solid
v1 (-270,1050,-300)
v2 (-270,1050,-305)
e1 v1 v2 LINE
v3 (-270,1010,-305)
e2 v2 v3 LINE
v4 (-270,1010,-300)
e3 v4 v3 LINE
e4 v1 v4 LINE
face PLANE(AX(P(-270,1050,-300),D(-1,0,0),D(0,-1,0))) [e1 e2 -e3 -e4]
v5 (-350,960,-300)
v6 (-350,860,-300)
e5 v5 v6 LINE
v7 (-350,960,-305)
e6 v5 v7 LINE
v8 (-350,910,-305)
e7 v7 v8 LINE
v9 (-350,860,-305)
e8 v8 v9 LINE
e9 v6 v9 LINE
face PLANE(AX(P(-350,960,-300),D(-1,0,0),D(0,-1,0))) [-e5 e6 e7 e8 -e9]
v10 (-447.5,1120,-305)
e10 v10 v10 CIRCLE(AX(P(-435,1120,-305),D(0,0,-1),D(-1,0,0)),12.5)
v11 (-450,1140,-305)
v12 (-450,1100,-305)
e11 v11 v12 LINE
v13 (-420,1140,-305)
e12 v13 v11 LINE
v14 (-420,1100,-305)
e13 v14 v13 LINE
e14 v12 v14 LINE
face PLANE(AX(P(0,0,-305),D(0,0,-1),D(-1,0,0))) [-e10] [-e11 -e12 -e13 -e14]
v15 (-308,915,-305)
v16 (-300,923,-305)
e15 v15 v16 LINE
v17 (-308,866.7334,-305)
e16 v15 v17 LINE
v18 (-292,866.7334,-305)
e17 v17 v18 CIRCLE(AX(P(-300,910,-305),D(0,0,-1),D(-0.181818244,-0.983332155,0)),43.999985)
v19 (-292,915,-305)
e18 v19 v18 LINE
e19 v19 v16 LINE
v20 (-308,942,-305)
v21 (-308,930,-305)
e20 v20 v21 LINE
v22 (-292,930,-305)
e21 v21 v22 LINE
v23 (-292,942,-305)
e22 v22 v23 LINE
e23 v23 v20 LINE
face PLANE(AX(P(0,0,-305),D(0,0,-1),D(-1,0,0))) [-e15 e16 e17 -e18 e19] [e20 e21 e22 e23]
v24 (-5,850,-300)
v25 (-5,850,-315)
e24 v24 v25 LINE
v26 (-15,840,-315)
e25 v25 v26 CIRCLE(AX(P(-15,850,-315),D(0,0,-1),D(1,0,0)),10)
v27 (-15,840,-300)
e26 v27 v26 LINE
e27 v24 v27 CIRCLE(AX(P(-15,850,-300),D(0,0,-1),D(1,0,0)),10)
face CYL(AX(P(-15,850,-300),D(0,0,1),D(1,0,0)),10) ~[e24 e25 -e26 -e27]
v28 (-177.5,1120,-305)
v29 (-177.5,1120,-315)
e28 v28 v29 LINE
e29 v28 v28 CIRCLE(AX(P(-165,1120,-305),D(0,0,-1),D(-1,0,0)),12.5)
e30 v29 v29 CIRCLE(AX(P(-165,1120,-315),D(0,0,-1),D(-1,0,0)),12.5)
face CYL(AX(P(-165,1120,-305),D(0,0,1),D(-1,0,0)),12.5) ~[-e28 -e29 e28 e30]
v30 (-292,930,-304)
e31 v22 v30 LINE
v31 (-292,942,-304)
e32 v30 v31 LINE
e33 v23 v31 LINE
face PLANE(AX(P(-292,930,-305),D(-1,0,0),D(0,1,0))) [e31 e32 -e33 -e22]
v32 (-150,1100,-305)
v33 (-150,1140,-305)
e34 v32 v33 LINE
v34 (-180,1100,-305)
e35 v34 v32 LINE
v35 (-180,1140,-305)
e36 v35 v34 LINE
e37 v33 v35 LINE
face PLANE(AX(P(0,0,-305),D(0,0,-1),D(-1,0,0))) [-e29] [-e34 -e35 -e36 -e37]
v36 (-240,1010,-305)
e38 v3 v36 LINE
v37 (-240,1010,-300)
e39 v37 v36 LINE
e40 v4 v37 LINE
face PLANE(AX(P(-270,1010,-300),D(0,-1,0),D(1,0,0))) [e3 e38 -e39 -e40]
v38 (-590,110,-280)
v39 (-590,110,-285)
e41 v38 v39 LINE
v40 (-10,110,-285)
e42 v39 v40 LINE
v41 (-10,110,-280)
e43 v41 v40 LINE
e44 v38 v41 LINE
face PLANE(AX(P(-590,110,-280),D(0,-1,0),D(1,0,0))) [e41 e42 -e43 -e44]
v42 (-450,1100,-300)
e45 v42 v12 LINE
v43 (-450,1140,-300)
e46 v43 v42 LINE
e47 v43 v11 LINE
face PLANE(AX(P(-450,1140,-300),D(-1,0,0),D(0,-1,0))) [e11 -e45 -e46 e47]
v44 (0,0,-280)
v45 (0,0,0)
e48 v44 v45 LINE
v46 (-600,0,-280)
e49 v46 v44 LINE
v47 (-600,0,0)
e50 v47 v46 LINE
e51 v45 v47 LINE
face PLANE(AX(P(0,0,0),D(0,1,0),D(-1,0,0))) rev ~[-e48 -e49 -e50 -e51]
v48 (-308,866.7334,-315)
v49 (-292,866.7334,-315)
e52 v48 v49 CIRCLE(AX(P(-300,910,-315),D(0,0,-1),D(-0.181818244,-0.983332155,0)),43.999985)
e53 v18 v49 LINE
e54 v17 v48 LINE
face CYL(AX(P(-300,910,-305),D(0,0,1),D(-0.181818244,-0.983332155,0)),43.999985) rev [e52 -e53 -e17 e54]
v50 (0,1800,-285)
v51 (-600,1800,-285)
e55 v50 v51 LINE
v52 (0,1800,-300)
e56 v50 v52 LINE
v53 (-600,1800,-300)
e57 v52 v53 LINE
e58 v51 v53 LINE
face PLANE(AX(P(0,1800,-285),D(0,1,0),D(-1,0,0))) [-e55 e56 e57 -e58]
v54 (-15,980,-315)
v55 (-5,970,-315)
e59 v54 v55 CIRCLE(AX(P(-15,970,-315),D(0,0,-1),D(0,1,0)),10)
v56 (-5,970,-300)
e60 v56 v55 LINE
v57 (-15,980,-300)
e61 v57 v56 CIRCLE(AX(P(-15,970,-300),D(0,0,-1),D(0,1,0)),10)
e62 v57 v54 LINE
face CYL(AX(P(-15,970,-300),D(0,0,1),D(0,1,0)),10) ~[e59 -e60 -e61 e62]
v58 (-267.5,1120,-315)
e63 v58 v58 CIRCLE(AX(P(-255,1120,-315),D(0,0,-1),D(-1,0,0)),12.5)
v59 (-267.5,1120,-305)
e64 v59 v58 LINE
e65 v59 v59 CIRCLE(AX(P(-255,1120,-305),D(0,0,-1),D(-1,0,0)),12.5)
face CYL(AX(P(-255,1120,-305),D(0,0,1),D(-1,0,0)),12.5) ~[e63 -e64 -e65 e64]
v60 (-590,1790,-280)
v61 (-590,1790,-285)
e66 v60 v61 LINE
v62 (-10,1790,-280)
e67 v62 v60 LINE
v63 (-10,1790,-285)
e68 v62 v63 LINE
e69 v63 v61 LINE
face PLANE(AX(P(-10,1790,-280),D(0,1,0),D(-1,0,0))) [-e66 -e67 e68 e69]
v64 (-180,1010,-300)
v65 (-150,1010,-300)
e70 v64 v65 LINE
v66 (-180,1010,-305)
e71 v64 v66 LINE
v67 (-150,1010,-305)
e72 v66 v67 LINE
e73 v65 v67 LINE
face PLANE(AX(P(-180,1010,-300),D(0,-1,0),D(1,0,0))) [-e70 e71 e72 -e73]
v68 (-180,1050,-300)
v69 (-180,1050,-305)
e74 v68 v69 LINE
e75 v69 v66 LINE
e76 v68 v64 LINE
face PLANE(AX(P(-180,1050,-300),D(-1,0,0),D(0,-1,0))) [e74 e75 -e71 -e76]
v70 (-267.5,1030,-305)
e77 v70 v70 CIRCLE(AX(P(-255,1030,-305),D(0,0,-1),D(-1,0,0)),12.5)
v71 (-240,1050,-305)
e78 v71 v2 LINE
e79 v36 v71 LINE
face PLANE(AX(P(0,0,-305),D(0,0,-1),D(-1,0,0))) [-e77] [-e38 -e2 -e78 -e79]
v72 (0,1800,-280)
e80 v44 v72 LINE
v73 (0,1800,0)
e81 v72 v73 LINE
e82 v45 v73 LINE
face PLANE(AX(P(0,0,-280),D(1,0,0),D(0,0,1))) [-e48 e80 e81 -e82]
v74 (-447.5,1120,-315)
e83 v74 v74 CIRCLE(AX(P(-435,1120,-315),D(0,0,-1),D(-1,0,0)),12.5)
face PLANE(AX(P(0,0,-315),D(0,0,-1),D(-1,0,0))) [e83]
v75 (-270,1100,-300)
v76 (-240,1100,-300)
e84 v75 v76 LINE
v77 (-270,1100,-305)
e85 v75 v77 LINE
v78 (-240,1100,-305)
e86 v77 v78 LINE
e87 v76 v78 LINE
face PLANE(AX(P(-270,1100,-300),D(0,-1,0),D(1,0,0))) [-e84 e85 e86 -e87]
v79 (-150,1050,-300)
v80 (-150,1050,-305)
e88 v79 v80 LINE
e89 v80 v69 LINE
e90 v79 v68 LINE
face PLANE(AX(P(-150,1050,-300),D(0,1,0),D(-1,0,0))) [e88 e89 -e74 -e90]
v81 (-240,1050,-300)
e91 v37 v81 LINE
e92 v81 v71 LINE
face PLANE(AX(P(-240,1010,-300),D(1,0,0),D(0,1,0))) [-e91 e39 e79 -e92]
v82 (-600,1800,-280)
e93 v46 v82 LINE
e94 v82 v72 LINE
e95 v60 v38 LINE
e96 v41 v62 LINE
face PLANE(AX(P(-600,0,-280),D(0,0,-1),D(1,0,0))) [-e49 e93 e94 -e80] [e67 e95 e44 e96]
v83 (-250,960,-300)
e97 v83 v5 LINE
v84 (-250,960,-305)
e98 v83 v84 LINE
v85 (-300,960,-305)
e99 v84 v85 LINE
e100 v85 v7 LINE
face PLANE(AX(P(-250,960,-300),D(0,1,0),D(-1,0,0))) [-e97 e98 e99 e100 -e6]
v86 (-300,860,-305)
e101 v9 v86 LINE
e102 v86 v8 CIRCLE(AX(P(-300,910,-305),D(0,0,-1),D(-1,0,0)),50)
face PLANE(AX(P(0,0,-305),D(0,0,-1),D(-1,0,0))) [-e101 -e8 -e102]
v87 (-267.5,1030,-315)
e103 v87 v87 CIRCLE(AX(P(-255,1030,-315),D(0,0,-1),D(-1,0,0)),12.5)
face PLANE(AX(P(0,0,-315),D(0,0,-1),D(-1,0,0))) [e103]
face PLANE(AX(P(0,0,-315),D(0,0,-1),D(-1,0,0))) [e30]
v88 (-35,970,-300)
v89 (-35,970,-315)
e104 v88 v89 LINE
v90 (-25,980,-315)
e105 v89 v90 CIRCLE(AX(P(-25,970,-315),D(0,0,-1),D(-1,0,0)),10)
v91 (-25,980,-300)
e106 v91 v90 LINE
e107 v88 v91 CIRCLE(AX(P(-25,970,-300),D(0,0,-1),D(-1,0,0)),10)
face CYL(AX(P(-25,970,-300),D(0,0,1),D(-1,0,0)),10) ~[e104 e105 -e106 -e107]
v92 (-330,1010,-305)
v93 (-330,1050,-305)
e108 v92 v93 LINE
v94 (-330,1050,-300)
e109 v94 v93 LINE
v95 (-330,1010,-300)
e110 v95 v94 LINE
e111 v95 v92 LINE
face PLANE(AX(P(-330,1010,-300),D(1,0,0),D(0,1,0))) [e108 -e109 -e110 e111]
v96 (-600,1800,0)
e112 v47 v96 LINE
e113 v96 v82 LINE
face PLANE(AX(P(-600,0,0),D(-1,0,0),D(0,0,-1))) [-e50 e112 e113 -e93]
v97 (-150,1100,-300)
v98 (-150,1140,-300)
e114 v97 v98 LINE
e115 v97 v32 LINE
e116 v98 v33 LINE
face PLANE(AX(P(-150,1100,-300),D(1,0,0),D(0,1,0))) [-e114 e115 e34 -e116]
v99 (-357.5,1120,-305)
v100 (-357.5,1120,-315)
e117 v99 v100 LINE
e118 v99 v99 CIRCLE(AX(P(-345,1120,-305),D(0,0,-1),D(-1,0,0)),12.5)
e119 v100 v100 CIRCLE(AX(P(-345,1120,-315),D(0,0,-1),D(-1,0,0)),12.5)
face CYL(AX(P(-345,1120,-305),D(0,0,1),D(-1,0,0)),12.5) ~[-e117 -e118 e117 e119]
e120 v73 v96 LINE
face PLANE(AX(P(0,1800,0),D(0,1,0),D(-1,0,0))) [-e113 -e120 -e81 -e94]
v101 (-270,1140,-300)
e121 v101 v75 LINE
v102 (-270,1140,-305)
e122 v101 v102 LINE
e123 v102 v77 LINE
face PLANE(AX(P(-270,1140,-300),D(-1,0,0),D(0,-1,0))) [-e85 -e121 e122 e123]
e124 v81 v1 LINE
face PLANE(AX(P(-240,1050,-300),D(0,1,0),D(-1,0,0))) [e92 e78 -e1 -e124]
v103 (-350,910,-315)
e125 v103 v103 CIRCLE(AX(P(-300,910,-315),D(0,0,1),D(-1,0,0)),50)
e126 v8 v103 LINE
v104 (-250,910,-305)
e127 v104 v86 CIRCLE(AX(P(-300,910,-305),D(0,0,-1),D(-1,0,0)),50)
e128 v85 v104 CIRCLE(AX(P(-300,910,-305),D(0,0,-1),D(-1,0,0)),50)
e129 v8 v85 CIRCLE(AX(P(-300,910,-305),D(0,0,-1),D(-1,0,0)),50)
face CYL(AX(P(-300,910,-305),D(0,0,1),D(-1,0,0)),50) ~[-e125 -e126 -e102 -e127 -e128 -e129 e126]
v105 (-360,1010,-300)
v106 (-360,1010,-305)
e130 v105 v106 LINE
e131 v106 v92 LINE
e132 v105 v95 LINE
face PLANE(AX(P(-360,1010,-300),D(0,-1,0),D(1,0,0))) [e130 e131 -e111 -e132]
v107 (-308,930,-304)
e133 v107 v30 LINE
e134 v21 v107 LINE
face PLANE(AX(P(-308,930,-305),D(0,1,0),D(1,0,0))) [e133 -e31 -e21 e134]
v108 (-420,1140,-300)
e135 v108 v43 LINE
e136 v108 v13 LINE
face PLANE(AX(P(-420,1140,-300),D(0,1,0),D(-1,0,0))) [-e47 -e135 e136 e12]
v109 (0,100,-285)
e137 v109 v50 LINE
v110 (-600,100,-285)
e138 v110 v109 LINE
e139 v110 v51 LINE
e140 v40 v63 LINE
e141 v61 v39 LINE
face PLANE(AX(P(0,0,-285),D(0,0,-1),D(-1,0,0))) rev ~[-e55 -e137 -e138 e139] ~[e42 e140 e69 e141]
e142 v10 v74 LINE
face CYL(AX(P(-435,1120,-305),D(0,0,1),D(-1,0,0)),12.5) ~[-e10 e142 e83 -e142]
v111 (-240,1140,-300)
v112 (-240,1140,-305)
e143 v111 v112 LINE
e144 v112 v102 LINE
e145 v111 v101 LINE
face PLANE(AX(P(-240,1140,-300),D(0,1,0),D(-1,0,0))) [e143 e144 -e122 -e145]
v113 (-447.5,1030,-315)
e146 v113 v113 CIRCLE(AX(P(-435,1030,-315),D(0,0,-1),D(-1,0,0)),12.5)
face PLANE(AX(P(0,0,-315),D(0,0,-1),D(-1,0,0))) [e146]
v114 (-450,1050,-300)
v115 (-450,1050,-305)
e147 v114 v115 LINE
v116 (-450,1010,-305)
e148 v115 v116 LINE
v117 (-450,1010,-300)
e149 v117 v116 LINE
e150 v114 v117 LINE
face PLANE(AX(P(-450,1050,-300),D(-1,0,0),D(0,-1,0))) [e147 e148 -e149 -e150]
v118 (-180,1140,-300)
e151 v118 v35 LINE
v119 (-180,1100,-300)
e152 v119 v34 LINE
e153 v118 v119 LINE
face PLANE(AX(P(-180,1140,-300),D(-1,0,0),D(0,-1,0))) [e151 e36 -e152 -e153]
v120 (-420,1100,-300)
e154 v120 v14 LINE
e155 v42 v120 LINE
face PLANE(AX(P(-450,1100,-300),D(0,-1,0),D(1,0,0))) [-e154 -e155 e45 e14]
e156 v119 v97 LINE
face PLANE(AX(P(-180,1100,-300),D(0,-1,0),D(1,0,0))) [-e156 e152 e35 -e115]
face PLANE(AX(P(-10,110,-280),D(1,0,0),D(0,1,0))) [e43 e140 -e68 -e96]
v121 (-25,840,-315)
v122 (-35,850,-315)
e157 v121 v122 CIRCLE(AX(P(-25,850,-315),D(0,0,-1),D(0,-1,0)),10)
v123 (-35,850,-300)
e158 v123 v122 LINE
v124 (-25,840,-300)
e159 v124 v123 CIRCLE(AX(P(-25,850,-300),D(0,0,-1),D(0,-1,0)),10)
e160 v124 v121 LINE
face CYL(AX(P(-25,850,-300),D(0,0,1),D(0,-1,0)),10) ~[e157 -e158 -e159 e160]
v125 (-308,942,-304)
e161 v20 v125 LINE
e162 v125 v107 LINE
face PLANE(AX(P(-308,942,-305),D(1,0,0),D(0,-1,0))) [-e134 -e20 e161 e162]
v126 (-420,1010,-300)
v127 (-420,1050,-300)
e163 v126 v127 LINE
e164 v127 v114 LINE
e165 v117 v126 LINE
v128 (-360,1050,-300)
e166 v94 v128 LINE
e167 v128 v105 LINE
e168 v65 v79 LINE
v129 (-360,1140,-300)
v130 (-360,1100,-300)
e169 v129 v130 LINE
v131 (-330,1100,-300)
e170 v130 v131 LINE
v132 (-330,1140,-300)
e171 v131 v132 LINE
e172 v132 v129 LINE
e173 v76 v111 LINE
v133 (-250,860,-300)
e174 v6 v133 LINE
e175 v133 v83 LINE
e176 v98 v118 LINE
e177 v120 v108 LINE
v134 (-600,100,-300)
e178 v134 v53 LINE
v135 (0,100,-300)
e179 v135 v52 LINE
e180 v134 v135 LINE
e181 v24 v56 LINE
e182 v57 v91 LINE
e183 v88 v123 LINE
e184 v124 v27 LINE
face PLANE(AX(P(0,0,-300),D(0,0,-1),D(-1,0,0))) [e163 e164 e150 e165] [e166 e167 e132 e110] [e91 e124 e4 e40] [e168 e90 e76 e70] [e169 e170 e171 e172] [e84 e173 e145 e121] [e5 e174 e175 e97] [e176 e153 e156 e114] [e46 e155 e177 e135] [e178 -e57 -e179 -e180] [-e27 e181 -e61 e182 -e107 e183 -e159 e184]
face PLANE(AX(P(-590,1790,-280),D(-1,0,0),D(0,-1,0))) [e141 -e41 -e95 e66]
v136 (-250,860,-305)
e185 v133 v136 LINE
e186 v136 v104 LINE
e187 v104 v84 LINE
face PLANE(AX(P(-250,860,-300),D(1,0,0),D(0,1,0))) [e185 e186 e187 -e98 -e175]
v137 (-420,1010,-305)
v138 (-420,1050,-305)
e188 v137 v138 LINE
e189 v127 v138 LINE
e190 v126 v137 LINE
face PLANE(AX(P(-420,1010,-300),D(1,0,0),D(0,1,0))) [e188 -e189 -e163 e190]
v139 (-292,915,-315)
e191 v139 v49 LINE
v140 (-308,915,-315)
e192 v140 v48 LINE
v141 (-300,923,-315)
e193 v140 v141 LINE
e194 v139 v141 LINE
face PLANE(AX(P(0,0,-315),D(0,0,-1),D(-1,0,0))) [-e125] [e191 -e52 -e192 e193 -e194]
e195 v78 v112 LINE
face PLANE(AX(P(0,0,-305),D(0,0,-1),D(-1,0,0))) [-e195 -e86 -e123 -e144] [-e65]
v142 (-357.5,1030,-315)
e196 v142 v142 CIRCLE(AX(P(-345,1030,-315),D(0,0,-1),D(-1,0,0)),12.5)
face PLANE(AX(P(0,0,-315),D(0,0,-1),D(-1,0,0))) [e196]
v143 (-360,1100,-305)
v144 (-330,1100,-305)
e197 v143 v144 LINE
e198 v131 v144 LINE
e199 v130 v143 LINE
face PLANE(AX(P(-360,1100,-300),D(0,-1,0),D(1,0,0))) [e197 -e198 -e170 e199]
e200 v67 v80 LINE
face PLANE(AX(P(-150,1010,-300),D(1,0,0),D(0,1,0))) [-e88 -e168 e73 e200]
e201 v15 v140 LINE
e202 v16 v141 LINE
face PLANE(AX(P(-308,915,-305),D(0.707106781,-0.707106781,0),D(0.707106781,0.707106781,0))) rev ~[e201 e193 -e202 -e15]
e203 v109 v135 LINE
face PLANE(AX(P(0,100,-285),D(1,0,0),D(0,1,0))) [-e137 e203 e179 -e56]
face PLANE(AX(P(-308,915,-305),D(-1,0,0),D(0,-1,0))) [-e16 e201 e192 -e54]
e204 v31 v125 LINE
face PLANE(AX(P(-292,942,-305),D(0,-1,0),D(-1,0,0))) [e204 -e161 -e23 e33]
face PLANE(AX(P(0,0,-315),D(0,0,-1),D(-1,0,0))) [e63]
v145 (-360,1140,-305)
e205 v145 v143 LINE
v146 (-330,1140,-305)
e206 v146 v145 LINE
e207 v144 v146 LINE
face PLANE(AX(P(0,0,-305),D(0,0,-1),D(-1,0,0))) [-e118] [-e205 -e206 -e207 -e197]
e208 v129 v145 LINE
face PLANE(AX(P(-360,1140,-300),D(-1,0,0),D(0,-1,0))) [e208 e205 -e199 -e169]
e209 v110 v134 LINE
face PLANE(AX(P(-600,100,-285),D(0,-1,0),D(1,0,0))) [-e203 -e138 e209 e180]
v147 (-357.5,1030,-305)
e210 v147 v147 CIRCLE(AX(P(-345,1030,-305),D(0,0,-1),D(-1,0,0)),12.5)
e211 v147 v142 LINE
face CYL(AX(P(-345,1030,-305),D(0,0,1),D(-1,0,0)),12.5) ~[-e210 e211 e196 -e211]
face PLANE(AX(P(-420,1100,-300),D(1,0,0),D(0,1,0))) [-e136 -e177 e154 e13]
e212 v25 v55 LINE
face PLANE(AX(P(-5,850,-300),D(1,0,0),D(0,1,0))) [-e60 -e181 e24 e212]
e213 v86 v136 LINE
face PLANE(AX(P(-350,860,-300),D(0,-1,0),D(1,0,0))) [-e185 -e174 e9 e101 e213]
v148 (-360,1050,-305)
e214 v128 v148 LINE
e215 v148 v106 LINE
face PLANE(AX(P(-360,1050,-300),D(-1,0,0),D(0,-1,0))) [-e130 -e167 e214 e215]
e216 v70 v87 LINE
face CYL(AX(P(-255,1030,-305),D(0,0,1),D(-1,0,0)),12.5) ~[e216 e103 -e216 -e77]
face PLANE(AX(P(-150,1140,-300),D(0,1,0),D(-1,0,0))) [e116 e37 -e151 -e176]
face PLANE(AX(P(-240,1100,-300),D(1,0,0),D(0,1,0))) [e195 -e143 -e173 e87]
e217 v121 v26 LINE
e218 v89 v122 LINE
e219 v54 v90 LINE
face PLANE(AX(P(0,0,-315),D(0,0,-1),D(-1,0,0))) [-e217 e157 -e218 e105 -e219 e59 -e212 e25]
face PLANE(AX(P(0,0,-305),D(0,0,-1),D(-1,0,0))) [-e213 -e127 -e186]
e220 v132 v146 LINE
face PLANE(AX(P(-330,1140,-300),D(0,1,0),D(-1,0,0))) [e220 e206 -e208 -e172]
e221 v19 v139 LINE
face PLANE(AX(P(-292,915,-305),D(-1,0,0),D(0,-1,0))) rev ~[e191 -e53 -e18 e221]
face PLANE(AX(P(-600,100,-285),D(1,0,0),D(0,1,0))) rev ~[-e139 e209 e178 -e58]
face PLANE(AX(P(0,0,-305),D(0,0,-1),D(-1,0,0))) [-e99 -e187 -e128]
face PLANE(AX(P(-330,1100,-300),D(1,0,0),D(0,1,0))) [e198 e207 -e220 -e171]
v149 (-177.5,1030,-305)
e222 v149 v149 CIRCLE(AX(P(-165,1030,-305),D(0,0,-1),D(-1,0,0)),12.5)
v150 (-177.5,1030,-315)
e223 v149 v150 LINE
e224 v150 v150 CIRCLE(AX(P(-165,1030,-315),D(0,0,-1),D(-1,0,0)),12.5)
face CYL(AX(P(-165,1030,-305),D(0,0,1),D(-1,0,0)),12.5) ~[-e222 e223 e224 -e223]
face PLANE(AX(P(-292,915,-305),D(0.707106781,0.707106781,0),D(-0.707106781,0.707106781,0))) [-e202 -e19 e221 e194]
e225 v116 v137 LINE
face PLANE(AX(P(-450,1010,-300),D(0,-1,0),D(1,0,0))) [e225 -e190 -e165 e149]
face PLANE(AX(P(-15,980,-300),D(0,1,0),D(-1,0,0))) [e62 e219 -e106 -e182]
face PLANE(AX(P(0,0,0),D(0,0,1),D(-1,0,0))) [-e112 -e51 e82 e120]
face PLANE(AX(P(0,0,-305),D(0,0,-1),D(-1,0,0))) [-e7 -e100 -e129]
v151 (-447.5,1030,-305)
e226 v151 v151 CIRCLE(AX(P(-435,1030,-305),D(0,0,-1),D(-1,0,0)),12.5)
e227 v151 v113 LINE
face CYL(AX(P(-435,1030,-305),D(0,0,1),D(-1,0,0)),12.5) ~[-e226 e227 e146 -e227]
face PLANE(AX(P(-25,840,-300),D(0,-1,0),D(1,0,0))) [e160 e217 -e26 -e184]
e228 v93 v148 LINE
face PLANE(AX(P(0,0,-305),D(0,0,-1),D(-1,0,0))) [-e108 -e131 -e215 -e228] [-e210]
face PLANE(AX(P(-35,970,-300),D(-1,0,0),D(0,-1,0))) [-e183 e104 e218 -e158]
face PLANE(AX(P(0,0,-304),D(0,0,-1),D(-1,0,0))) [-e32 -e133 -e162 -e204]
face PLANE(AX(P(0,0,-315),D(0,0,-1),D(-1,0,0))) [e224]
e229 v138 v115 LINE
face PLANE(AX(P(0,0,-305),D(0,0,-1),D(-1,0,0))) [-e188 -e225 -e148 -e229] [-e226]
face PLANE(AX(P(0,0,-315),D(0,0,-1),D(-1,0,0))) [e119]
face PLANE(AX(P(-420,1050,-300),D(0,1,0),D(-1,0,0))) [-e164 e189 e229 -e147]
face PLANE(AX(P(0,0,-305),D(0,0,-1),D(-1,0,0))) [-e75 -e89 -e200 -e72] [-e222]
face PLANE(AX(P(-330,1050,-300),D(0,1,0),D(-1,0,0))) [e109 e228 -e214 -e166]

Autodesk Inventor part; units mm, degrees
ref_plane "YZ Plane" through (0, 0, 0) normal (1, 0, 0) x (0, 1, 0)
ref_plane "XZ Plane" through (0, 0, 0) normal (0, 1, 0) x (-1, 0, 0)
ref_plane "XY Plane" through (0, 0, 0) normal (0, 0, 1) x (1, 0, 0)
sketch "Skizze1" plane through (0, 0, 0) normal (0, 1, 0) x (-1, 0, 0)
  line L0 (0, 0) -> (600, 0)
  line L1 (600, 0) -> (600, -280)
  line L2 (600, -280) -> (0, -280)
  line L3 (0, -280) -> (0, 0)
  dimension "d0" = 600
  dimension "d1" = 280
extrude "Extrusion1" add sketch "Skizze1" along normal blind 1800
sketch "Skizze2" plane through (0, 0, -280) normal (0, 0, -1) x (-1, 0, 0)
  line L0 (10, 1790) -> (590, 1790)
  line L1 (590, 1790) -> (590, 110)
  line L2 (590, 110) -> (10, 110)
  line L3 (10, 110) -> (10, 1790)
  line L4 (0, 0) -> (0, 1800) projected
  line L5 (600, 0) -> (600, 1800) projected
  line L6 (0, 1800) -> (600, 1800) projected
  line L7 (0, 0) -> (600, 0) projected
  dimension "d4" = 10
  dimension "d5" = 10
  dimension "d6" = 10
  dimension "d7" = 110
extrude "Extrusion2" add sketch "Skizze2" along normal blind 5 contours L0 L1 L2 L3
sketch "Skizze3" plane through (0, 0, -285) normal (0, 0, -1) x (-1, 0, 0)
  line L0 (0, 0) -> (0, 1800) projected
  line L1 (600, 0) -> (600, 1800) projected
  line L2 (0, 1800) -> (600, 1800)
  line L3 (600, 1800) -> (600, 100)
  line L4 (600, 100) -> (0, 100)
  line L5 (0, 100) -> (0, 1800)
  line L6 (10, 110) -> (590, 110) projected
  point P0 (0, 100)
  dimension "d10" = 10
extrude "Extrusion3" add sketch "Skizze3" along normal blind 15
sketch "Skizze4" plane through (0, 0, -300) normal (0, 0, -1) x (-1, 0, 0)
  line L0 (15, 980) -> (25, 980)
  line L1 (35, 970) -> (35, 850)
  line L2 (25, 840) -> (15, 840)
  line L3 (5, 850) -> (5, 970)
  line L4 (0, 0) -> (600, 0) projected
  line L5 (0, 1800) -> (0, 100) projected
  arc A0 (5, 850) -> (15, 840) centre (15, 850) ccw
  arc A1 (25, 840) -> (35, 850) centre (25, 850) ccw
  arc A2 (35, 970) -> (25, 980) centre (25, 970) ccw
  arc A3 (15, 980) -> (5, 970) centre (15, 970) ccw
  dimension "d13" = 840
  dimension "d14" = 140
  dimension "d15" = 30
  dimension "d16" = 5
  dimension "d17" = 10
extrude "Extrusion4" add sketch "Skizze4" along normal blind 15
sketch "Skizze5" plane through (0, 0, -300) normal (0, 0, -1) x (-1, 0, 0)
  line L0 (150, 1140) -> (180, 1140)
  line L1 (180, 1140) -> (180, 1100)
  line L2 (180, 1100) -> (150, 1100)
  line L3 (150, 1100) -> (150, 1140)
  line L4 (0, 100) -> (600, 100) projected
  line L5 (0, 1800) -> (0, 100) projected
  line L6 (240, 1140) -> (270, 1140)
  line L7 (270, 1140) -> (270, 1100)
  line L8 (270, 1100) -> (240, 1100)
  line L9 (240, 1100) -> (240, 1140)
  line L10 (330, 1140) -> (360, 1140)
  line L11 (360, 1140) -> (360, 1100)
  line L12 (360, 1100) -> (330, 1100)
  line L13 (330, 1100) -> (330, 1140)
  line L14 (420, 1140) -> (450, 1140)
  line L15 (450, 1140) -> (450, 1100)
  line L16 (450, 1100) -> (420, 1100)
  line L17 (420, 1100) -> (420, 1140)
  line L18 (150, 1050) -> (180, 1050)
  line L19 (180, 1050) -> (180, 1010)
  line L20 (180, 1010) -> (150, 1010)
  line L21 (150, 1010) -> (150, 1050)
  line L22 (240, 1050) -> (270, 1050)
  line L23 (270, 1050) -> (270, 1010)
  line L24 (270, 1010) -> (240, 1010)
  line L25 (240, 1010) -> (240, 1050)
  line L26 (330, 1050) -> (360, 1050)
  line L27 (360, 1050) -> (360, 1010)
  line L28 (360, 1010) -> (330, 1010)
  line L29 (330, 1010) -> (330, 1050)
  line L30 (420, 1050) -> (450, 1050)
  line L31 (450, 1050) -> (450, 1010)
  line L32 (450, 1010) -> (420, 1010)
  line L33 (420, 1010) -> (420, 1050)
  line L34 (250, 960) -> (350, 960)
  line L35 (350, 960) -> (350, 860)
  line L36 (350, 860) -> (250, 860)
  line L37 (250, 860) -> (250, 960)
  point P0 (0, 0)
  dimension "d20" = 40
  dimension "d21" = 30
  dimension "d22" = 1000
  dimension "d23" = 150
  dimension "d33" = 90
  dimension "d36" = 90
  dimension "d39" = 100
  dimension "d40" = 100
  dimension "d41" = 250
  dimension "d42" = 50
extrude "Extrusion5" add sketch "Skizze5" along normal blind 5
sketch "Skizze6" plane through (0, 0, -305) normal (0, 0, -1) x (-1, 0, 0)
  circle A0 centre (165, 1120) radius 12.5
  line L0 (180, 1140) -> (150, 1140) projected
  line L1 (180, 1100) -> (180, 1140) projected
  circle A1 centre (255, 1120) radius 12.5
  circle A2 centre (345, 1120) radius 12.5
  circle A3 centre (435, 1120) radius 12.5
  circle A4 centre (165, 1030) radius 12.5
  circle A5 centre (255, 1030) radius 12.5
  circle A6 centre (345, 1030) radius 12.5
  circle A7 centre (435, 1030) radius 12.5
  circle A8 centre (300, 910) radius 50
  line L2 (350, 860) -> (350, 960) projected
  line L3 (350, 960) -> (250, 960) projected
  arc A9 (308, 866.7334) -> (292, 866.7334) centre (300, 910) ccw
  line L4 (292, 915) -> (292, 866.7334)
  line L5 (308, 915) -> (308, 866.7334)
  line L6 (292, 915) -> (300, 923)
  line L7 (292, 915) -> (303.3137, 915) construction
  line L8 (308, 915) -> (300, 923)
  line L9 (308, 915) -> (319.3137, 915) construction
  point P0 (0, 0)
  dimension "d45" = 25
  dimension "d46" = 20
  dimension "d47" = 15
  dimension "d50" = 90
  dimension "d53" = 90
  dimension "d68" = 100
  dimension "d69" = 88
  dimension "d70" = 45
  dimension "d71" = 135
  dimension "d72" = 8
  dimension "d73" = 8
  dimension "d74" = 5
extrude "Extrusion6" add sketch "Skizze6" along normal blind 10 contours A0 | A1 | A2 | A3 | A4 | A5 | A6 | A7 | A8
sketch "Skizze7" plane through (0, 0, -305) normal (0, 0, -1) x (-1, 0, 0)
  line L0 (292, 942) -> (308, 942)
  line L1 (308, 942) -> (308, 930)
  line L2 (308, 930) -> (292, 930)
  line L3 (292, 930) -> (292, 942)
  line L4 (308, 866.7334) -> (308, 915) projected
  line L5 (292, 915) -> (292, 866.7334) projected
  point P0 (0, 0)
  point P1 (300, 923)
  dimension "d75" = 7
  dimension "d76" = 12
extrude "Extrusion7" cut sketch "Skizze7" against normal blind 1
equation "\"d5\" = d4"
equation "\"d6\" = d5"
equation "\"d73\" = d72"
properties part number "Schaltschrank2"
